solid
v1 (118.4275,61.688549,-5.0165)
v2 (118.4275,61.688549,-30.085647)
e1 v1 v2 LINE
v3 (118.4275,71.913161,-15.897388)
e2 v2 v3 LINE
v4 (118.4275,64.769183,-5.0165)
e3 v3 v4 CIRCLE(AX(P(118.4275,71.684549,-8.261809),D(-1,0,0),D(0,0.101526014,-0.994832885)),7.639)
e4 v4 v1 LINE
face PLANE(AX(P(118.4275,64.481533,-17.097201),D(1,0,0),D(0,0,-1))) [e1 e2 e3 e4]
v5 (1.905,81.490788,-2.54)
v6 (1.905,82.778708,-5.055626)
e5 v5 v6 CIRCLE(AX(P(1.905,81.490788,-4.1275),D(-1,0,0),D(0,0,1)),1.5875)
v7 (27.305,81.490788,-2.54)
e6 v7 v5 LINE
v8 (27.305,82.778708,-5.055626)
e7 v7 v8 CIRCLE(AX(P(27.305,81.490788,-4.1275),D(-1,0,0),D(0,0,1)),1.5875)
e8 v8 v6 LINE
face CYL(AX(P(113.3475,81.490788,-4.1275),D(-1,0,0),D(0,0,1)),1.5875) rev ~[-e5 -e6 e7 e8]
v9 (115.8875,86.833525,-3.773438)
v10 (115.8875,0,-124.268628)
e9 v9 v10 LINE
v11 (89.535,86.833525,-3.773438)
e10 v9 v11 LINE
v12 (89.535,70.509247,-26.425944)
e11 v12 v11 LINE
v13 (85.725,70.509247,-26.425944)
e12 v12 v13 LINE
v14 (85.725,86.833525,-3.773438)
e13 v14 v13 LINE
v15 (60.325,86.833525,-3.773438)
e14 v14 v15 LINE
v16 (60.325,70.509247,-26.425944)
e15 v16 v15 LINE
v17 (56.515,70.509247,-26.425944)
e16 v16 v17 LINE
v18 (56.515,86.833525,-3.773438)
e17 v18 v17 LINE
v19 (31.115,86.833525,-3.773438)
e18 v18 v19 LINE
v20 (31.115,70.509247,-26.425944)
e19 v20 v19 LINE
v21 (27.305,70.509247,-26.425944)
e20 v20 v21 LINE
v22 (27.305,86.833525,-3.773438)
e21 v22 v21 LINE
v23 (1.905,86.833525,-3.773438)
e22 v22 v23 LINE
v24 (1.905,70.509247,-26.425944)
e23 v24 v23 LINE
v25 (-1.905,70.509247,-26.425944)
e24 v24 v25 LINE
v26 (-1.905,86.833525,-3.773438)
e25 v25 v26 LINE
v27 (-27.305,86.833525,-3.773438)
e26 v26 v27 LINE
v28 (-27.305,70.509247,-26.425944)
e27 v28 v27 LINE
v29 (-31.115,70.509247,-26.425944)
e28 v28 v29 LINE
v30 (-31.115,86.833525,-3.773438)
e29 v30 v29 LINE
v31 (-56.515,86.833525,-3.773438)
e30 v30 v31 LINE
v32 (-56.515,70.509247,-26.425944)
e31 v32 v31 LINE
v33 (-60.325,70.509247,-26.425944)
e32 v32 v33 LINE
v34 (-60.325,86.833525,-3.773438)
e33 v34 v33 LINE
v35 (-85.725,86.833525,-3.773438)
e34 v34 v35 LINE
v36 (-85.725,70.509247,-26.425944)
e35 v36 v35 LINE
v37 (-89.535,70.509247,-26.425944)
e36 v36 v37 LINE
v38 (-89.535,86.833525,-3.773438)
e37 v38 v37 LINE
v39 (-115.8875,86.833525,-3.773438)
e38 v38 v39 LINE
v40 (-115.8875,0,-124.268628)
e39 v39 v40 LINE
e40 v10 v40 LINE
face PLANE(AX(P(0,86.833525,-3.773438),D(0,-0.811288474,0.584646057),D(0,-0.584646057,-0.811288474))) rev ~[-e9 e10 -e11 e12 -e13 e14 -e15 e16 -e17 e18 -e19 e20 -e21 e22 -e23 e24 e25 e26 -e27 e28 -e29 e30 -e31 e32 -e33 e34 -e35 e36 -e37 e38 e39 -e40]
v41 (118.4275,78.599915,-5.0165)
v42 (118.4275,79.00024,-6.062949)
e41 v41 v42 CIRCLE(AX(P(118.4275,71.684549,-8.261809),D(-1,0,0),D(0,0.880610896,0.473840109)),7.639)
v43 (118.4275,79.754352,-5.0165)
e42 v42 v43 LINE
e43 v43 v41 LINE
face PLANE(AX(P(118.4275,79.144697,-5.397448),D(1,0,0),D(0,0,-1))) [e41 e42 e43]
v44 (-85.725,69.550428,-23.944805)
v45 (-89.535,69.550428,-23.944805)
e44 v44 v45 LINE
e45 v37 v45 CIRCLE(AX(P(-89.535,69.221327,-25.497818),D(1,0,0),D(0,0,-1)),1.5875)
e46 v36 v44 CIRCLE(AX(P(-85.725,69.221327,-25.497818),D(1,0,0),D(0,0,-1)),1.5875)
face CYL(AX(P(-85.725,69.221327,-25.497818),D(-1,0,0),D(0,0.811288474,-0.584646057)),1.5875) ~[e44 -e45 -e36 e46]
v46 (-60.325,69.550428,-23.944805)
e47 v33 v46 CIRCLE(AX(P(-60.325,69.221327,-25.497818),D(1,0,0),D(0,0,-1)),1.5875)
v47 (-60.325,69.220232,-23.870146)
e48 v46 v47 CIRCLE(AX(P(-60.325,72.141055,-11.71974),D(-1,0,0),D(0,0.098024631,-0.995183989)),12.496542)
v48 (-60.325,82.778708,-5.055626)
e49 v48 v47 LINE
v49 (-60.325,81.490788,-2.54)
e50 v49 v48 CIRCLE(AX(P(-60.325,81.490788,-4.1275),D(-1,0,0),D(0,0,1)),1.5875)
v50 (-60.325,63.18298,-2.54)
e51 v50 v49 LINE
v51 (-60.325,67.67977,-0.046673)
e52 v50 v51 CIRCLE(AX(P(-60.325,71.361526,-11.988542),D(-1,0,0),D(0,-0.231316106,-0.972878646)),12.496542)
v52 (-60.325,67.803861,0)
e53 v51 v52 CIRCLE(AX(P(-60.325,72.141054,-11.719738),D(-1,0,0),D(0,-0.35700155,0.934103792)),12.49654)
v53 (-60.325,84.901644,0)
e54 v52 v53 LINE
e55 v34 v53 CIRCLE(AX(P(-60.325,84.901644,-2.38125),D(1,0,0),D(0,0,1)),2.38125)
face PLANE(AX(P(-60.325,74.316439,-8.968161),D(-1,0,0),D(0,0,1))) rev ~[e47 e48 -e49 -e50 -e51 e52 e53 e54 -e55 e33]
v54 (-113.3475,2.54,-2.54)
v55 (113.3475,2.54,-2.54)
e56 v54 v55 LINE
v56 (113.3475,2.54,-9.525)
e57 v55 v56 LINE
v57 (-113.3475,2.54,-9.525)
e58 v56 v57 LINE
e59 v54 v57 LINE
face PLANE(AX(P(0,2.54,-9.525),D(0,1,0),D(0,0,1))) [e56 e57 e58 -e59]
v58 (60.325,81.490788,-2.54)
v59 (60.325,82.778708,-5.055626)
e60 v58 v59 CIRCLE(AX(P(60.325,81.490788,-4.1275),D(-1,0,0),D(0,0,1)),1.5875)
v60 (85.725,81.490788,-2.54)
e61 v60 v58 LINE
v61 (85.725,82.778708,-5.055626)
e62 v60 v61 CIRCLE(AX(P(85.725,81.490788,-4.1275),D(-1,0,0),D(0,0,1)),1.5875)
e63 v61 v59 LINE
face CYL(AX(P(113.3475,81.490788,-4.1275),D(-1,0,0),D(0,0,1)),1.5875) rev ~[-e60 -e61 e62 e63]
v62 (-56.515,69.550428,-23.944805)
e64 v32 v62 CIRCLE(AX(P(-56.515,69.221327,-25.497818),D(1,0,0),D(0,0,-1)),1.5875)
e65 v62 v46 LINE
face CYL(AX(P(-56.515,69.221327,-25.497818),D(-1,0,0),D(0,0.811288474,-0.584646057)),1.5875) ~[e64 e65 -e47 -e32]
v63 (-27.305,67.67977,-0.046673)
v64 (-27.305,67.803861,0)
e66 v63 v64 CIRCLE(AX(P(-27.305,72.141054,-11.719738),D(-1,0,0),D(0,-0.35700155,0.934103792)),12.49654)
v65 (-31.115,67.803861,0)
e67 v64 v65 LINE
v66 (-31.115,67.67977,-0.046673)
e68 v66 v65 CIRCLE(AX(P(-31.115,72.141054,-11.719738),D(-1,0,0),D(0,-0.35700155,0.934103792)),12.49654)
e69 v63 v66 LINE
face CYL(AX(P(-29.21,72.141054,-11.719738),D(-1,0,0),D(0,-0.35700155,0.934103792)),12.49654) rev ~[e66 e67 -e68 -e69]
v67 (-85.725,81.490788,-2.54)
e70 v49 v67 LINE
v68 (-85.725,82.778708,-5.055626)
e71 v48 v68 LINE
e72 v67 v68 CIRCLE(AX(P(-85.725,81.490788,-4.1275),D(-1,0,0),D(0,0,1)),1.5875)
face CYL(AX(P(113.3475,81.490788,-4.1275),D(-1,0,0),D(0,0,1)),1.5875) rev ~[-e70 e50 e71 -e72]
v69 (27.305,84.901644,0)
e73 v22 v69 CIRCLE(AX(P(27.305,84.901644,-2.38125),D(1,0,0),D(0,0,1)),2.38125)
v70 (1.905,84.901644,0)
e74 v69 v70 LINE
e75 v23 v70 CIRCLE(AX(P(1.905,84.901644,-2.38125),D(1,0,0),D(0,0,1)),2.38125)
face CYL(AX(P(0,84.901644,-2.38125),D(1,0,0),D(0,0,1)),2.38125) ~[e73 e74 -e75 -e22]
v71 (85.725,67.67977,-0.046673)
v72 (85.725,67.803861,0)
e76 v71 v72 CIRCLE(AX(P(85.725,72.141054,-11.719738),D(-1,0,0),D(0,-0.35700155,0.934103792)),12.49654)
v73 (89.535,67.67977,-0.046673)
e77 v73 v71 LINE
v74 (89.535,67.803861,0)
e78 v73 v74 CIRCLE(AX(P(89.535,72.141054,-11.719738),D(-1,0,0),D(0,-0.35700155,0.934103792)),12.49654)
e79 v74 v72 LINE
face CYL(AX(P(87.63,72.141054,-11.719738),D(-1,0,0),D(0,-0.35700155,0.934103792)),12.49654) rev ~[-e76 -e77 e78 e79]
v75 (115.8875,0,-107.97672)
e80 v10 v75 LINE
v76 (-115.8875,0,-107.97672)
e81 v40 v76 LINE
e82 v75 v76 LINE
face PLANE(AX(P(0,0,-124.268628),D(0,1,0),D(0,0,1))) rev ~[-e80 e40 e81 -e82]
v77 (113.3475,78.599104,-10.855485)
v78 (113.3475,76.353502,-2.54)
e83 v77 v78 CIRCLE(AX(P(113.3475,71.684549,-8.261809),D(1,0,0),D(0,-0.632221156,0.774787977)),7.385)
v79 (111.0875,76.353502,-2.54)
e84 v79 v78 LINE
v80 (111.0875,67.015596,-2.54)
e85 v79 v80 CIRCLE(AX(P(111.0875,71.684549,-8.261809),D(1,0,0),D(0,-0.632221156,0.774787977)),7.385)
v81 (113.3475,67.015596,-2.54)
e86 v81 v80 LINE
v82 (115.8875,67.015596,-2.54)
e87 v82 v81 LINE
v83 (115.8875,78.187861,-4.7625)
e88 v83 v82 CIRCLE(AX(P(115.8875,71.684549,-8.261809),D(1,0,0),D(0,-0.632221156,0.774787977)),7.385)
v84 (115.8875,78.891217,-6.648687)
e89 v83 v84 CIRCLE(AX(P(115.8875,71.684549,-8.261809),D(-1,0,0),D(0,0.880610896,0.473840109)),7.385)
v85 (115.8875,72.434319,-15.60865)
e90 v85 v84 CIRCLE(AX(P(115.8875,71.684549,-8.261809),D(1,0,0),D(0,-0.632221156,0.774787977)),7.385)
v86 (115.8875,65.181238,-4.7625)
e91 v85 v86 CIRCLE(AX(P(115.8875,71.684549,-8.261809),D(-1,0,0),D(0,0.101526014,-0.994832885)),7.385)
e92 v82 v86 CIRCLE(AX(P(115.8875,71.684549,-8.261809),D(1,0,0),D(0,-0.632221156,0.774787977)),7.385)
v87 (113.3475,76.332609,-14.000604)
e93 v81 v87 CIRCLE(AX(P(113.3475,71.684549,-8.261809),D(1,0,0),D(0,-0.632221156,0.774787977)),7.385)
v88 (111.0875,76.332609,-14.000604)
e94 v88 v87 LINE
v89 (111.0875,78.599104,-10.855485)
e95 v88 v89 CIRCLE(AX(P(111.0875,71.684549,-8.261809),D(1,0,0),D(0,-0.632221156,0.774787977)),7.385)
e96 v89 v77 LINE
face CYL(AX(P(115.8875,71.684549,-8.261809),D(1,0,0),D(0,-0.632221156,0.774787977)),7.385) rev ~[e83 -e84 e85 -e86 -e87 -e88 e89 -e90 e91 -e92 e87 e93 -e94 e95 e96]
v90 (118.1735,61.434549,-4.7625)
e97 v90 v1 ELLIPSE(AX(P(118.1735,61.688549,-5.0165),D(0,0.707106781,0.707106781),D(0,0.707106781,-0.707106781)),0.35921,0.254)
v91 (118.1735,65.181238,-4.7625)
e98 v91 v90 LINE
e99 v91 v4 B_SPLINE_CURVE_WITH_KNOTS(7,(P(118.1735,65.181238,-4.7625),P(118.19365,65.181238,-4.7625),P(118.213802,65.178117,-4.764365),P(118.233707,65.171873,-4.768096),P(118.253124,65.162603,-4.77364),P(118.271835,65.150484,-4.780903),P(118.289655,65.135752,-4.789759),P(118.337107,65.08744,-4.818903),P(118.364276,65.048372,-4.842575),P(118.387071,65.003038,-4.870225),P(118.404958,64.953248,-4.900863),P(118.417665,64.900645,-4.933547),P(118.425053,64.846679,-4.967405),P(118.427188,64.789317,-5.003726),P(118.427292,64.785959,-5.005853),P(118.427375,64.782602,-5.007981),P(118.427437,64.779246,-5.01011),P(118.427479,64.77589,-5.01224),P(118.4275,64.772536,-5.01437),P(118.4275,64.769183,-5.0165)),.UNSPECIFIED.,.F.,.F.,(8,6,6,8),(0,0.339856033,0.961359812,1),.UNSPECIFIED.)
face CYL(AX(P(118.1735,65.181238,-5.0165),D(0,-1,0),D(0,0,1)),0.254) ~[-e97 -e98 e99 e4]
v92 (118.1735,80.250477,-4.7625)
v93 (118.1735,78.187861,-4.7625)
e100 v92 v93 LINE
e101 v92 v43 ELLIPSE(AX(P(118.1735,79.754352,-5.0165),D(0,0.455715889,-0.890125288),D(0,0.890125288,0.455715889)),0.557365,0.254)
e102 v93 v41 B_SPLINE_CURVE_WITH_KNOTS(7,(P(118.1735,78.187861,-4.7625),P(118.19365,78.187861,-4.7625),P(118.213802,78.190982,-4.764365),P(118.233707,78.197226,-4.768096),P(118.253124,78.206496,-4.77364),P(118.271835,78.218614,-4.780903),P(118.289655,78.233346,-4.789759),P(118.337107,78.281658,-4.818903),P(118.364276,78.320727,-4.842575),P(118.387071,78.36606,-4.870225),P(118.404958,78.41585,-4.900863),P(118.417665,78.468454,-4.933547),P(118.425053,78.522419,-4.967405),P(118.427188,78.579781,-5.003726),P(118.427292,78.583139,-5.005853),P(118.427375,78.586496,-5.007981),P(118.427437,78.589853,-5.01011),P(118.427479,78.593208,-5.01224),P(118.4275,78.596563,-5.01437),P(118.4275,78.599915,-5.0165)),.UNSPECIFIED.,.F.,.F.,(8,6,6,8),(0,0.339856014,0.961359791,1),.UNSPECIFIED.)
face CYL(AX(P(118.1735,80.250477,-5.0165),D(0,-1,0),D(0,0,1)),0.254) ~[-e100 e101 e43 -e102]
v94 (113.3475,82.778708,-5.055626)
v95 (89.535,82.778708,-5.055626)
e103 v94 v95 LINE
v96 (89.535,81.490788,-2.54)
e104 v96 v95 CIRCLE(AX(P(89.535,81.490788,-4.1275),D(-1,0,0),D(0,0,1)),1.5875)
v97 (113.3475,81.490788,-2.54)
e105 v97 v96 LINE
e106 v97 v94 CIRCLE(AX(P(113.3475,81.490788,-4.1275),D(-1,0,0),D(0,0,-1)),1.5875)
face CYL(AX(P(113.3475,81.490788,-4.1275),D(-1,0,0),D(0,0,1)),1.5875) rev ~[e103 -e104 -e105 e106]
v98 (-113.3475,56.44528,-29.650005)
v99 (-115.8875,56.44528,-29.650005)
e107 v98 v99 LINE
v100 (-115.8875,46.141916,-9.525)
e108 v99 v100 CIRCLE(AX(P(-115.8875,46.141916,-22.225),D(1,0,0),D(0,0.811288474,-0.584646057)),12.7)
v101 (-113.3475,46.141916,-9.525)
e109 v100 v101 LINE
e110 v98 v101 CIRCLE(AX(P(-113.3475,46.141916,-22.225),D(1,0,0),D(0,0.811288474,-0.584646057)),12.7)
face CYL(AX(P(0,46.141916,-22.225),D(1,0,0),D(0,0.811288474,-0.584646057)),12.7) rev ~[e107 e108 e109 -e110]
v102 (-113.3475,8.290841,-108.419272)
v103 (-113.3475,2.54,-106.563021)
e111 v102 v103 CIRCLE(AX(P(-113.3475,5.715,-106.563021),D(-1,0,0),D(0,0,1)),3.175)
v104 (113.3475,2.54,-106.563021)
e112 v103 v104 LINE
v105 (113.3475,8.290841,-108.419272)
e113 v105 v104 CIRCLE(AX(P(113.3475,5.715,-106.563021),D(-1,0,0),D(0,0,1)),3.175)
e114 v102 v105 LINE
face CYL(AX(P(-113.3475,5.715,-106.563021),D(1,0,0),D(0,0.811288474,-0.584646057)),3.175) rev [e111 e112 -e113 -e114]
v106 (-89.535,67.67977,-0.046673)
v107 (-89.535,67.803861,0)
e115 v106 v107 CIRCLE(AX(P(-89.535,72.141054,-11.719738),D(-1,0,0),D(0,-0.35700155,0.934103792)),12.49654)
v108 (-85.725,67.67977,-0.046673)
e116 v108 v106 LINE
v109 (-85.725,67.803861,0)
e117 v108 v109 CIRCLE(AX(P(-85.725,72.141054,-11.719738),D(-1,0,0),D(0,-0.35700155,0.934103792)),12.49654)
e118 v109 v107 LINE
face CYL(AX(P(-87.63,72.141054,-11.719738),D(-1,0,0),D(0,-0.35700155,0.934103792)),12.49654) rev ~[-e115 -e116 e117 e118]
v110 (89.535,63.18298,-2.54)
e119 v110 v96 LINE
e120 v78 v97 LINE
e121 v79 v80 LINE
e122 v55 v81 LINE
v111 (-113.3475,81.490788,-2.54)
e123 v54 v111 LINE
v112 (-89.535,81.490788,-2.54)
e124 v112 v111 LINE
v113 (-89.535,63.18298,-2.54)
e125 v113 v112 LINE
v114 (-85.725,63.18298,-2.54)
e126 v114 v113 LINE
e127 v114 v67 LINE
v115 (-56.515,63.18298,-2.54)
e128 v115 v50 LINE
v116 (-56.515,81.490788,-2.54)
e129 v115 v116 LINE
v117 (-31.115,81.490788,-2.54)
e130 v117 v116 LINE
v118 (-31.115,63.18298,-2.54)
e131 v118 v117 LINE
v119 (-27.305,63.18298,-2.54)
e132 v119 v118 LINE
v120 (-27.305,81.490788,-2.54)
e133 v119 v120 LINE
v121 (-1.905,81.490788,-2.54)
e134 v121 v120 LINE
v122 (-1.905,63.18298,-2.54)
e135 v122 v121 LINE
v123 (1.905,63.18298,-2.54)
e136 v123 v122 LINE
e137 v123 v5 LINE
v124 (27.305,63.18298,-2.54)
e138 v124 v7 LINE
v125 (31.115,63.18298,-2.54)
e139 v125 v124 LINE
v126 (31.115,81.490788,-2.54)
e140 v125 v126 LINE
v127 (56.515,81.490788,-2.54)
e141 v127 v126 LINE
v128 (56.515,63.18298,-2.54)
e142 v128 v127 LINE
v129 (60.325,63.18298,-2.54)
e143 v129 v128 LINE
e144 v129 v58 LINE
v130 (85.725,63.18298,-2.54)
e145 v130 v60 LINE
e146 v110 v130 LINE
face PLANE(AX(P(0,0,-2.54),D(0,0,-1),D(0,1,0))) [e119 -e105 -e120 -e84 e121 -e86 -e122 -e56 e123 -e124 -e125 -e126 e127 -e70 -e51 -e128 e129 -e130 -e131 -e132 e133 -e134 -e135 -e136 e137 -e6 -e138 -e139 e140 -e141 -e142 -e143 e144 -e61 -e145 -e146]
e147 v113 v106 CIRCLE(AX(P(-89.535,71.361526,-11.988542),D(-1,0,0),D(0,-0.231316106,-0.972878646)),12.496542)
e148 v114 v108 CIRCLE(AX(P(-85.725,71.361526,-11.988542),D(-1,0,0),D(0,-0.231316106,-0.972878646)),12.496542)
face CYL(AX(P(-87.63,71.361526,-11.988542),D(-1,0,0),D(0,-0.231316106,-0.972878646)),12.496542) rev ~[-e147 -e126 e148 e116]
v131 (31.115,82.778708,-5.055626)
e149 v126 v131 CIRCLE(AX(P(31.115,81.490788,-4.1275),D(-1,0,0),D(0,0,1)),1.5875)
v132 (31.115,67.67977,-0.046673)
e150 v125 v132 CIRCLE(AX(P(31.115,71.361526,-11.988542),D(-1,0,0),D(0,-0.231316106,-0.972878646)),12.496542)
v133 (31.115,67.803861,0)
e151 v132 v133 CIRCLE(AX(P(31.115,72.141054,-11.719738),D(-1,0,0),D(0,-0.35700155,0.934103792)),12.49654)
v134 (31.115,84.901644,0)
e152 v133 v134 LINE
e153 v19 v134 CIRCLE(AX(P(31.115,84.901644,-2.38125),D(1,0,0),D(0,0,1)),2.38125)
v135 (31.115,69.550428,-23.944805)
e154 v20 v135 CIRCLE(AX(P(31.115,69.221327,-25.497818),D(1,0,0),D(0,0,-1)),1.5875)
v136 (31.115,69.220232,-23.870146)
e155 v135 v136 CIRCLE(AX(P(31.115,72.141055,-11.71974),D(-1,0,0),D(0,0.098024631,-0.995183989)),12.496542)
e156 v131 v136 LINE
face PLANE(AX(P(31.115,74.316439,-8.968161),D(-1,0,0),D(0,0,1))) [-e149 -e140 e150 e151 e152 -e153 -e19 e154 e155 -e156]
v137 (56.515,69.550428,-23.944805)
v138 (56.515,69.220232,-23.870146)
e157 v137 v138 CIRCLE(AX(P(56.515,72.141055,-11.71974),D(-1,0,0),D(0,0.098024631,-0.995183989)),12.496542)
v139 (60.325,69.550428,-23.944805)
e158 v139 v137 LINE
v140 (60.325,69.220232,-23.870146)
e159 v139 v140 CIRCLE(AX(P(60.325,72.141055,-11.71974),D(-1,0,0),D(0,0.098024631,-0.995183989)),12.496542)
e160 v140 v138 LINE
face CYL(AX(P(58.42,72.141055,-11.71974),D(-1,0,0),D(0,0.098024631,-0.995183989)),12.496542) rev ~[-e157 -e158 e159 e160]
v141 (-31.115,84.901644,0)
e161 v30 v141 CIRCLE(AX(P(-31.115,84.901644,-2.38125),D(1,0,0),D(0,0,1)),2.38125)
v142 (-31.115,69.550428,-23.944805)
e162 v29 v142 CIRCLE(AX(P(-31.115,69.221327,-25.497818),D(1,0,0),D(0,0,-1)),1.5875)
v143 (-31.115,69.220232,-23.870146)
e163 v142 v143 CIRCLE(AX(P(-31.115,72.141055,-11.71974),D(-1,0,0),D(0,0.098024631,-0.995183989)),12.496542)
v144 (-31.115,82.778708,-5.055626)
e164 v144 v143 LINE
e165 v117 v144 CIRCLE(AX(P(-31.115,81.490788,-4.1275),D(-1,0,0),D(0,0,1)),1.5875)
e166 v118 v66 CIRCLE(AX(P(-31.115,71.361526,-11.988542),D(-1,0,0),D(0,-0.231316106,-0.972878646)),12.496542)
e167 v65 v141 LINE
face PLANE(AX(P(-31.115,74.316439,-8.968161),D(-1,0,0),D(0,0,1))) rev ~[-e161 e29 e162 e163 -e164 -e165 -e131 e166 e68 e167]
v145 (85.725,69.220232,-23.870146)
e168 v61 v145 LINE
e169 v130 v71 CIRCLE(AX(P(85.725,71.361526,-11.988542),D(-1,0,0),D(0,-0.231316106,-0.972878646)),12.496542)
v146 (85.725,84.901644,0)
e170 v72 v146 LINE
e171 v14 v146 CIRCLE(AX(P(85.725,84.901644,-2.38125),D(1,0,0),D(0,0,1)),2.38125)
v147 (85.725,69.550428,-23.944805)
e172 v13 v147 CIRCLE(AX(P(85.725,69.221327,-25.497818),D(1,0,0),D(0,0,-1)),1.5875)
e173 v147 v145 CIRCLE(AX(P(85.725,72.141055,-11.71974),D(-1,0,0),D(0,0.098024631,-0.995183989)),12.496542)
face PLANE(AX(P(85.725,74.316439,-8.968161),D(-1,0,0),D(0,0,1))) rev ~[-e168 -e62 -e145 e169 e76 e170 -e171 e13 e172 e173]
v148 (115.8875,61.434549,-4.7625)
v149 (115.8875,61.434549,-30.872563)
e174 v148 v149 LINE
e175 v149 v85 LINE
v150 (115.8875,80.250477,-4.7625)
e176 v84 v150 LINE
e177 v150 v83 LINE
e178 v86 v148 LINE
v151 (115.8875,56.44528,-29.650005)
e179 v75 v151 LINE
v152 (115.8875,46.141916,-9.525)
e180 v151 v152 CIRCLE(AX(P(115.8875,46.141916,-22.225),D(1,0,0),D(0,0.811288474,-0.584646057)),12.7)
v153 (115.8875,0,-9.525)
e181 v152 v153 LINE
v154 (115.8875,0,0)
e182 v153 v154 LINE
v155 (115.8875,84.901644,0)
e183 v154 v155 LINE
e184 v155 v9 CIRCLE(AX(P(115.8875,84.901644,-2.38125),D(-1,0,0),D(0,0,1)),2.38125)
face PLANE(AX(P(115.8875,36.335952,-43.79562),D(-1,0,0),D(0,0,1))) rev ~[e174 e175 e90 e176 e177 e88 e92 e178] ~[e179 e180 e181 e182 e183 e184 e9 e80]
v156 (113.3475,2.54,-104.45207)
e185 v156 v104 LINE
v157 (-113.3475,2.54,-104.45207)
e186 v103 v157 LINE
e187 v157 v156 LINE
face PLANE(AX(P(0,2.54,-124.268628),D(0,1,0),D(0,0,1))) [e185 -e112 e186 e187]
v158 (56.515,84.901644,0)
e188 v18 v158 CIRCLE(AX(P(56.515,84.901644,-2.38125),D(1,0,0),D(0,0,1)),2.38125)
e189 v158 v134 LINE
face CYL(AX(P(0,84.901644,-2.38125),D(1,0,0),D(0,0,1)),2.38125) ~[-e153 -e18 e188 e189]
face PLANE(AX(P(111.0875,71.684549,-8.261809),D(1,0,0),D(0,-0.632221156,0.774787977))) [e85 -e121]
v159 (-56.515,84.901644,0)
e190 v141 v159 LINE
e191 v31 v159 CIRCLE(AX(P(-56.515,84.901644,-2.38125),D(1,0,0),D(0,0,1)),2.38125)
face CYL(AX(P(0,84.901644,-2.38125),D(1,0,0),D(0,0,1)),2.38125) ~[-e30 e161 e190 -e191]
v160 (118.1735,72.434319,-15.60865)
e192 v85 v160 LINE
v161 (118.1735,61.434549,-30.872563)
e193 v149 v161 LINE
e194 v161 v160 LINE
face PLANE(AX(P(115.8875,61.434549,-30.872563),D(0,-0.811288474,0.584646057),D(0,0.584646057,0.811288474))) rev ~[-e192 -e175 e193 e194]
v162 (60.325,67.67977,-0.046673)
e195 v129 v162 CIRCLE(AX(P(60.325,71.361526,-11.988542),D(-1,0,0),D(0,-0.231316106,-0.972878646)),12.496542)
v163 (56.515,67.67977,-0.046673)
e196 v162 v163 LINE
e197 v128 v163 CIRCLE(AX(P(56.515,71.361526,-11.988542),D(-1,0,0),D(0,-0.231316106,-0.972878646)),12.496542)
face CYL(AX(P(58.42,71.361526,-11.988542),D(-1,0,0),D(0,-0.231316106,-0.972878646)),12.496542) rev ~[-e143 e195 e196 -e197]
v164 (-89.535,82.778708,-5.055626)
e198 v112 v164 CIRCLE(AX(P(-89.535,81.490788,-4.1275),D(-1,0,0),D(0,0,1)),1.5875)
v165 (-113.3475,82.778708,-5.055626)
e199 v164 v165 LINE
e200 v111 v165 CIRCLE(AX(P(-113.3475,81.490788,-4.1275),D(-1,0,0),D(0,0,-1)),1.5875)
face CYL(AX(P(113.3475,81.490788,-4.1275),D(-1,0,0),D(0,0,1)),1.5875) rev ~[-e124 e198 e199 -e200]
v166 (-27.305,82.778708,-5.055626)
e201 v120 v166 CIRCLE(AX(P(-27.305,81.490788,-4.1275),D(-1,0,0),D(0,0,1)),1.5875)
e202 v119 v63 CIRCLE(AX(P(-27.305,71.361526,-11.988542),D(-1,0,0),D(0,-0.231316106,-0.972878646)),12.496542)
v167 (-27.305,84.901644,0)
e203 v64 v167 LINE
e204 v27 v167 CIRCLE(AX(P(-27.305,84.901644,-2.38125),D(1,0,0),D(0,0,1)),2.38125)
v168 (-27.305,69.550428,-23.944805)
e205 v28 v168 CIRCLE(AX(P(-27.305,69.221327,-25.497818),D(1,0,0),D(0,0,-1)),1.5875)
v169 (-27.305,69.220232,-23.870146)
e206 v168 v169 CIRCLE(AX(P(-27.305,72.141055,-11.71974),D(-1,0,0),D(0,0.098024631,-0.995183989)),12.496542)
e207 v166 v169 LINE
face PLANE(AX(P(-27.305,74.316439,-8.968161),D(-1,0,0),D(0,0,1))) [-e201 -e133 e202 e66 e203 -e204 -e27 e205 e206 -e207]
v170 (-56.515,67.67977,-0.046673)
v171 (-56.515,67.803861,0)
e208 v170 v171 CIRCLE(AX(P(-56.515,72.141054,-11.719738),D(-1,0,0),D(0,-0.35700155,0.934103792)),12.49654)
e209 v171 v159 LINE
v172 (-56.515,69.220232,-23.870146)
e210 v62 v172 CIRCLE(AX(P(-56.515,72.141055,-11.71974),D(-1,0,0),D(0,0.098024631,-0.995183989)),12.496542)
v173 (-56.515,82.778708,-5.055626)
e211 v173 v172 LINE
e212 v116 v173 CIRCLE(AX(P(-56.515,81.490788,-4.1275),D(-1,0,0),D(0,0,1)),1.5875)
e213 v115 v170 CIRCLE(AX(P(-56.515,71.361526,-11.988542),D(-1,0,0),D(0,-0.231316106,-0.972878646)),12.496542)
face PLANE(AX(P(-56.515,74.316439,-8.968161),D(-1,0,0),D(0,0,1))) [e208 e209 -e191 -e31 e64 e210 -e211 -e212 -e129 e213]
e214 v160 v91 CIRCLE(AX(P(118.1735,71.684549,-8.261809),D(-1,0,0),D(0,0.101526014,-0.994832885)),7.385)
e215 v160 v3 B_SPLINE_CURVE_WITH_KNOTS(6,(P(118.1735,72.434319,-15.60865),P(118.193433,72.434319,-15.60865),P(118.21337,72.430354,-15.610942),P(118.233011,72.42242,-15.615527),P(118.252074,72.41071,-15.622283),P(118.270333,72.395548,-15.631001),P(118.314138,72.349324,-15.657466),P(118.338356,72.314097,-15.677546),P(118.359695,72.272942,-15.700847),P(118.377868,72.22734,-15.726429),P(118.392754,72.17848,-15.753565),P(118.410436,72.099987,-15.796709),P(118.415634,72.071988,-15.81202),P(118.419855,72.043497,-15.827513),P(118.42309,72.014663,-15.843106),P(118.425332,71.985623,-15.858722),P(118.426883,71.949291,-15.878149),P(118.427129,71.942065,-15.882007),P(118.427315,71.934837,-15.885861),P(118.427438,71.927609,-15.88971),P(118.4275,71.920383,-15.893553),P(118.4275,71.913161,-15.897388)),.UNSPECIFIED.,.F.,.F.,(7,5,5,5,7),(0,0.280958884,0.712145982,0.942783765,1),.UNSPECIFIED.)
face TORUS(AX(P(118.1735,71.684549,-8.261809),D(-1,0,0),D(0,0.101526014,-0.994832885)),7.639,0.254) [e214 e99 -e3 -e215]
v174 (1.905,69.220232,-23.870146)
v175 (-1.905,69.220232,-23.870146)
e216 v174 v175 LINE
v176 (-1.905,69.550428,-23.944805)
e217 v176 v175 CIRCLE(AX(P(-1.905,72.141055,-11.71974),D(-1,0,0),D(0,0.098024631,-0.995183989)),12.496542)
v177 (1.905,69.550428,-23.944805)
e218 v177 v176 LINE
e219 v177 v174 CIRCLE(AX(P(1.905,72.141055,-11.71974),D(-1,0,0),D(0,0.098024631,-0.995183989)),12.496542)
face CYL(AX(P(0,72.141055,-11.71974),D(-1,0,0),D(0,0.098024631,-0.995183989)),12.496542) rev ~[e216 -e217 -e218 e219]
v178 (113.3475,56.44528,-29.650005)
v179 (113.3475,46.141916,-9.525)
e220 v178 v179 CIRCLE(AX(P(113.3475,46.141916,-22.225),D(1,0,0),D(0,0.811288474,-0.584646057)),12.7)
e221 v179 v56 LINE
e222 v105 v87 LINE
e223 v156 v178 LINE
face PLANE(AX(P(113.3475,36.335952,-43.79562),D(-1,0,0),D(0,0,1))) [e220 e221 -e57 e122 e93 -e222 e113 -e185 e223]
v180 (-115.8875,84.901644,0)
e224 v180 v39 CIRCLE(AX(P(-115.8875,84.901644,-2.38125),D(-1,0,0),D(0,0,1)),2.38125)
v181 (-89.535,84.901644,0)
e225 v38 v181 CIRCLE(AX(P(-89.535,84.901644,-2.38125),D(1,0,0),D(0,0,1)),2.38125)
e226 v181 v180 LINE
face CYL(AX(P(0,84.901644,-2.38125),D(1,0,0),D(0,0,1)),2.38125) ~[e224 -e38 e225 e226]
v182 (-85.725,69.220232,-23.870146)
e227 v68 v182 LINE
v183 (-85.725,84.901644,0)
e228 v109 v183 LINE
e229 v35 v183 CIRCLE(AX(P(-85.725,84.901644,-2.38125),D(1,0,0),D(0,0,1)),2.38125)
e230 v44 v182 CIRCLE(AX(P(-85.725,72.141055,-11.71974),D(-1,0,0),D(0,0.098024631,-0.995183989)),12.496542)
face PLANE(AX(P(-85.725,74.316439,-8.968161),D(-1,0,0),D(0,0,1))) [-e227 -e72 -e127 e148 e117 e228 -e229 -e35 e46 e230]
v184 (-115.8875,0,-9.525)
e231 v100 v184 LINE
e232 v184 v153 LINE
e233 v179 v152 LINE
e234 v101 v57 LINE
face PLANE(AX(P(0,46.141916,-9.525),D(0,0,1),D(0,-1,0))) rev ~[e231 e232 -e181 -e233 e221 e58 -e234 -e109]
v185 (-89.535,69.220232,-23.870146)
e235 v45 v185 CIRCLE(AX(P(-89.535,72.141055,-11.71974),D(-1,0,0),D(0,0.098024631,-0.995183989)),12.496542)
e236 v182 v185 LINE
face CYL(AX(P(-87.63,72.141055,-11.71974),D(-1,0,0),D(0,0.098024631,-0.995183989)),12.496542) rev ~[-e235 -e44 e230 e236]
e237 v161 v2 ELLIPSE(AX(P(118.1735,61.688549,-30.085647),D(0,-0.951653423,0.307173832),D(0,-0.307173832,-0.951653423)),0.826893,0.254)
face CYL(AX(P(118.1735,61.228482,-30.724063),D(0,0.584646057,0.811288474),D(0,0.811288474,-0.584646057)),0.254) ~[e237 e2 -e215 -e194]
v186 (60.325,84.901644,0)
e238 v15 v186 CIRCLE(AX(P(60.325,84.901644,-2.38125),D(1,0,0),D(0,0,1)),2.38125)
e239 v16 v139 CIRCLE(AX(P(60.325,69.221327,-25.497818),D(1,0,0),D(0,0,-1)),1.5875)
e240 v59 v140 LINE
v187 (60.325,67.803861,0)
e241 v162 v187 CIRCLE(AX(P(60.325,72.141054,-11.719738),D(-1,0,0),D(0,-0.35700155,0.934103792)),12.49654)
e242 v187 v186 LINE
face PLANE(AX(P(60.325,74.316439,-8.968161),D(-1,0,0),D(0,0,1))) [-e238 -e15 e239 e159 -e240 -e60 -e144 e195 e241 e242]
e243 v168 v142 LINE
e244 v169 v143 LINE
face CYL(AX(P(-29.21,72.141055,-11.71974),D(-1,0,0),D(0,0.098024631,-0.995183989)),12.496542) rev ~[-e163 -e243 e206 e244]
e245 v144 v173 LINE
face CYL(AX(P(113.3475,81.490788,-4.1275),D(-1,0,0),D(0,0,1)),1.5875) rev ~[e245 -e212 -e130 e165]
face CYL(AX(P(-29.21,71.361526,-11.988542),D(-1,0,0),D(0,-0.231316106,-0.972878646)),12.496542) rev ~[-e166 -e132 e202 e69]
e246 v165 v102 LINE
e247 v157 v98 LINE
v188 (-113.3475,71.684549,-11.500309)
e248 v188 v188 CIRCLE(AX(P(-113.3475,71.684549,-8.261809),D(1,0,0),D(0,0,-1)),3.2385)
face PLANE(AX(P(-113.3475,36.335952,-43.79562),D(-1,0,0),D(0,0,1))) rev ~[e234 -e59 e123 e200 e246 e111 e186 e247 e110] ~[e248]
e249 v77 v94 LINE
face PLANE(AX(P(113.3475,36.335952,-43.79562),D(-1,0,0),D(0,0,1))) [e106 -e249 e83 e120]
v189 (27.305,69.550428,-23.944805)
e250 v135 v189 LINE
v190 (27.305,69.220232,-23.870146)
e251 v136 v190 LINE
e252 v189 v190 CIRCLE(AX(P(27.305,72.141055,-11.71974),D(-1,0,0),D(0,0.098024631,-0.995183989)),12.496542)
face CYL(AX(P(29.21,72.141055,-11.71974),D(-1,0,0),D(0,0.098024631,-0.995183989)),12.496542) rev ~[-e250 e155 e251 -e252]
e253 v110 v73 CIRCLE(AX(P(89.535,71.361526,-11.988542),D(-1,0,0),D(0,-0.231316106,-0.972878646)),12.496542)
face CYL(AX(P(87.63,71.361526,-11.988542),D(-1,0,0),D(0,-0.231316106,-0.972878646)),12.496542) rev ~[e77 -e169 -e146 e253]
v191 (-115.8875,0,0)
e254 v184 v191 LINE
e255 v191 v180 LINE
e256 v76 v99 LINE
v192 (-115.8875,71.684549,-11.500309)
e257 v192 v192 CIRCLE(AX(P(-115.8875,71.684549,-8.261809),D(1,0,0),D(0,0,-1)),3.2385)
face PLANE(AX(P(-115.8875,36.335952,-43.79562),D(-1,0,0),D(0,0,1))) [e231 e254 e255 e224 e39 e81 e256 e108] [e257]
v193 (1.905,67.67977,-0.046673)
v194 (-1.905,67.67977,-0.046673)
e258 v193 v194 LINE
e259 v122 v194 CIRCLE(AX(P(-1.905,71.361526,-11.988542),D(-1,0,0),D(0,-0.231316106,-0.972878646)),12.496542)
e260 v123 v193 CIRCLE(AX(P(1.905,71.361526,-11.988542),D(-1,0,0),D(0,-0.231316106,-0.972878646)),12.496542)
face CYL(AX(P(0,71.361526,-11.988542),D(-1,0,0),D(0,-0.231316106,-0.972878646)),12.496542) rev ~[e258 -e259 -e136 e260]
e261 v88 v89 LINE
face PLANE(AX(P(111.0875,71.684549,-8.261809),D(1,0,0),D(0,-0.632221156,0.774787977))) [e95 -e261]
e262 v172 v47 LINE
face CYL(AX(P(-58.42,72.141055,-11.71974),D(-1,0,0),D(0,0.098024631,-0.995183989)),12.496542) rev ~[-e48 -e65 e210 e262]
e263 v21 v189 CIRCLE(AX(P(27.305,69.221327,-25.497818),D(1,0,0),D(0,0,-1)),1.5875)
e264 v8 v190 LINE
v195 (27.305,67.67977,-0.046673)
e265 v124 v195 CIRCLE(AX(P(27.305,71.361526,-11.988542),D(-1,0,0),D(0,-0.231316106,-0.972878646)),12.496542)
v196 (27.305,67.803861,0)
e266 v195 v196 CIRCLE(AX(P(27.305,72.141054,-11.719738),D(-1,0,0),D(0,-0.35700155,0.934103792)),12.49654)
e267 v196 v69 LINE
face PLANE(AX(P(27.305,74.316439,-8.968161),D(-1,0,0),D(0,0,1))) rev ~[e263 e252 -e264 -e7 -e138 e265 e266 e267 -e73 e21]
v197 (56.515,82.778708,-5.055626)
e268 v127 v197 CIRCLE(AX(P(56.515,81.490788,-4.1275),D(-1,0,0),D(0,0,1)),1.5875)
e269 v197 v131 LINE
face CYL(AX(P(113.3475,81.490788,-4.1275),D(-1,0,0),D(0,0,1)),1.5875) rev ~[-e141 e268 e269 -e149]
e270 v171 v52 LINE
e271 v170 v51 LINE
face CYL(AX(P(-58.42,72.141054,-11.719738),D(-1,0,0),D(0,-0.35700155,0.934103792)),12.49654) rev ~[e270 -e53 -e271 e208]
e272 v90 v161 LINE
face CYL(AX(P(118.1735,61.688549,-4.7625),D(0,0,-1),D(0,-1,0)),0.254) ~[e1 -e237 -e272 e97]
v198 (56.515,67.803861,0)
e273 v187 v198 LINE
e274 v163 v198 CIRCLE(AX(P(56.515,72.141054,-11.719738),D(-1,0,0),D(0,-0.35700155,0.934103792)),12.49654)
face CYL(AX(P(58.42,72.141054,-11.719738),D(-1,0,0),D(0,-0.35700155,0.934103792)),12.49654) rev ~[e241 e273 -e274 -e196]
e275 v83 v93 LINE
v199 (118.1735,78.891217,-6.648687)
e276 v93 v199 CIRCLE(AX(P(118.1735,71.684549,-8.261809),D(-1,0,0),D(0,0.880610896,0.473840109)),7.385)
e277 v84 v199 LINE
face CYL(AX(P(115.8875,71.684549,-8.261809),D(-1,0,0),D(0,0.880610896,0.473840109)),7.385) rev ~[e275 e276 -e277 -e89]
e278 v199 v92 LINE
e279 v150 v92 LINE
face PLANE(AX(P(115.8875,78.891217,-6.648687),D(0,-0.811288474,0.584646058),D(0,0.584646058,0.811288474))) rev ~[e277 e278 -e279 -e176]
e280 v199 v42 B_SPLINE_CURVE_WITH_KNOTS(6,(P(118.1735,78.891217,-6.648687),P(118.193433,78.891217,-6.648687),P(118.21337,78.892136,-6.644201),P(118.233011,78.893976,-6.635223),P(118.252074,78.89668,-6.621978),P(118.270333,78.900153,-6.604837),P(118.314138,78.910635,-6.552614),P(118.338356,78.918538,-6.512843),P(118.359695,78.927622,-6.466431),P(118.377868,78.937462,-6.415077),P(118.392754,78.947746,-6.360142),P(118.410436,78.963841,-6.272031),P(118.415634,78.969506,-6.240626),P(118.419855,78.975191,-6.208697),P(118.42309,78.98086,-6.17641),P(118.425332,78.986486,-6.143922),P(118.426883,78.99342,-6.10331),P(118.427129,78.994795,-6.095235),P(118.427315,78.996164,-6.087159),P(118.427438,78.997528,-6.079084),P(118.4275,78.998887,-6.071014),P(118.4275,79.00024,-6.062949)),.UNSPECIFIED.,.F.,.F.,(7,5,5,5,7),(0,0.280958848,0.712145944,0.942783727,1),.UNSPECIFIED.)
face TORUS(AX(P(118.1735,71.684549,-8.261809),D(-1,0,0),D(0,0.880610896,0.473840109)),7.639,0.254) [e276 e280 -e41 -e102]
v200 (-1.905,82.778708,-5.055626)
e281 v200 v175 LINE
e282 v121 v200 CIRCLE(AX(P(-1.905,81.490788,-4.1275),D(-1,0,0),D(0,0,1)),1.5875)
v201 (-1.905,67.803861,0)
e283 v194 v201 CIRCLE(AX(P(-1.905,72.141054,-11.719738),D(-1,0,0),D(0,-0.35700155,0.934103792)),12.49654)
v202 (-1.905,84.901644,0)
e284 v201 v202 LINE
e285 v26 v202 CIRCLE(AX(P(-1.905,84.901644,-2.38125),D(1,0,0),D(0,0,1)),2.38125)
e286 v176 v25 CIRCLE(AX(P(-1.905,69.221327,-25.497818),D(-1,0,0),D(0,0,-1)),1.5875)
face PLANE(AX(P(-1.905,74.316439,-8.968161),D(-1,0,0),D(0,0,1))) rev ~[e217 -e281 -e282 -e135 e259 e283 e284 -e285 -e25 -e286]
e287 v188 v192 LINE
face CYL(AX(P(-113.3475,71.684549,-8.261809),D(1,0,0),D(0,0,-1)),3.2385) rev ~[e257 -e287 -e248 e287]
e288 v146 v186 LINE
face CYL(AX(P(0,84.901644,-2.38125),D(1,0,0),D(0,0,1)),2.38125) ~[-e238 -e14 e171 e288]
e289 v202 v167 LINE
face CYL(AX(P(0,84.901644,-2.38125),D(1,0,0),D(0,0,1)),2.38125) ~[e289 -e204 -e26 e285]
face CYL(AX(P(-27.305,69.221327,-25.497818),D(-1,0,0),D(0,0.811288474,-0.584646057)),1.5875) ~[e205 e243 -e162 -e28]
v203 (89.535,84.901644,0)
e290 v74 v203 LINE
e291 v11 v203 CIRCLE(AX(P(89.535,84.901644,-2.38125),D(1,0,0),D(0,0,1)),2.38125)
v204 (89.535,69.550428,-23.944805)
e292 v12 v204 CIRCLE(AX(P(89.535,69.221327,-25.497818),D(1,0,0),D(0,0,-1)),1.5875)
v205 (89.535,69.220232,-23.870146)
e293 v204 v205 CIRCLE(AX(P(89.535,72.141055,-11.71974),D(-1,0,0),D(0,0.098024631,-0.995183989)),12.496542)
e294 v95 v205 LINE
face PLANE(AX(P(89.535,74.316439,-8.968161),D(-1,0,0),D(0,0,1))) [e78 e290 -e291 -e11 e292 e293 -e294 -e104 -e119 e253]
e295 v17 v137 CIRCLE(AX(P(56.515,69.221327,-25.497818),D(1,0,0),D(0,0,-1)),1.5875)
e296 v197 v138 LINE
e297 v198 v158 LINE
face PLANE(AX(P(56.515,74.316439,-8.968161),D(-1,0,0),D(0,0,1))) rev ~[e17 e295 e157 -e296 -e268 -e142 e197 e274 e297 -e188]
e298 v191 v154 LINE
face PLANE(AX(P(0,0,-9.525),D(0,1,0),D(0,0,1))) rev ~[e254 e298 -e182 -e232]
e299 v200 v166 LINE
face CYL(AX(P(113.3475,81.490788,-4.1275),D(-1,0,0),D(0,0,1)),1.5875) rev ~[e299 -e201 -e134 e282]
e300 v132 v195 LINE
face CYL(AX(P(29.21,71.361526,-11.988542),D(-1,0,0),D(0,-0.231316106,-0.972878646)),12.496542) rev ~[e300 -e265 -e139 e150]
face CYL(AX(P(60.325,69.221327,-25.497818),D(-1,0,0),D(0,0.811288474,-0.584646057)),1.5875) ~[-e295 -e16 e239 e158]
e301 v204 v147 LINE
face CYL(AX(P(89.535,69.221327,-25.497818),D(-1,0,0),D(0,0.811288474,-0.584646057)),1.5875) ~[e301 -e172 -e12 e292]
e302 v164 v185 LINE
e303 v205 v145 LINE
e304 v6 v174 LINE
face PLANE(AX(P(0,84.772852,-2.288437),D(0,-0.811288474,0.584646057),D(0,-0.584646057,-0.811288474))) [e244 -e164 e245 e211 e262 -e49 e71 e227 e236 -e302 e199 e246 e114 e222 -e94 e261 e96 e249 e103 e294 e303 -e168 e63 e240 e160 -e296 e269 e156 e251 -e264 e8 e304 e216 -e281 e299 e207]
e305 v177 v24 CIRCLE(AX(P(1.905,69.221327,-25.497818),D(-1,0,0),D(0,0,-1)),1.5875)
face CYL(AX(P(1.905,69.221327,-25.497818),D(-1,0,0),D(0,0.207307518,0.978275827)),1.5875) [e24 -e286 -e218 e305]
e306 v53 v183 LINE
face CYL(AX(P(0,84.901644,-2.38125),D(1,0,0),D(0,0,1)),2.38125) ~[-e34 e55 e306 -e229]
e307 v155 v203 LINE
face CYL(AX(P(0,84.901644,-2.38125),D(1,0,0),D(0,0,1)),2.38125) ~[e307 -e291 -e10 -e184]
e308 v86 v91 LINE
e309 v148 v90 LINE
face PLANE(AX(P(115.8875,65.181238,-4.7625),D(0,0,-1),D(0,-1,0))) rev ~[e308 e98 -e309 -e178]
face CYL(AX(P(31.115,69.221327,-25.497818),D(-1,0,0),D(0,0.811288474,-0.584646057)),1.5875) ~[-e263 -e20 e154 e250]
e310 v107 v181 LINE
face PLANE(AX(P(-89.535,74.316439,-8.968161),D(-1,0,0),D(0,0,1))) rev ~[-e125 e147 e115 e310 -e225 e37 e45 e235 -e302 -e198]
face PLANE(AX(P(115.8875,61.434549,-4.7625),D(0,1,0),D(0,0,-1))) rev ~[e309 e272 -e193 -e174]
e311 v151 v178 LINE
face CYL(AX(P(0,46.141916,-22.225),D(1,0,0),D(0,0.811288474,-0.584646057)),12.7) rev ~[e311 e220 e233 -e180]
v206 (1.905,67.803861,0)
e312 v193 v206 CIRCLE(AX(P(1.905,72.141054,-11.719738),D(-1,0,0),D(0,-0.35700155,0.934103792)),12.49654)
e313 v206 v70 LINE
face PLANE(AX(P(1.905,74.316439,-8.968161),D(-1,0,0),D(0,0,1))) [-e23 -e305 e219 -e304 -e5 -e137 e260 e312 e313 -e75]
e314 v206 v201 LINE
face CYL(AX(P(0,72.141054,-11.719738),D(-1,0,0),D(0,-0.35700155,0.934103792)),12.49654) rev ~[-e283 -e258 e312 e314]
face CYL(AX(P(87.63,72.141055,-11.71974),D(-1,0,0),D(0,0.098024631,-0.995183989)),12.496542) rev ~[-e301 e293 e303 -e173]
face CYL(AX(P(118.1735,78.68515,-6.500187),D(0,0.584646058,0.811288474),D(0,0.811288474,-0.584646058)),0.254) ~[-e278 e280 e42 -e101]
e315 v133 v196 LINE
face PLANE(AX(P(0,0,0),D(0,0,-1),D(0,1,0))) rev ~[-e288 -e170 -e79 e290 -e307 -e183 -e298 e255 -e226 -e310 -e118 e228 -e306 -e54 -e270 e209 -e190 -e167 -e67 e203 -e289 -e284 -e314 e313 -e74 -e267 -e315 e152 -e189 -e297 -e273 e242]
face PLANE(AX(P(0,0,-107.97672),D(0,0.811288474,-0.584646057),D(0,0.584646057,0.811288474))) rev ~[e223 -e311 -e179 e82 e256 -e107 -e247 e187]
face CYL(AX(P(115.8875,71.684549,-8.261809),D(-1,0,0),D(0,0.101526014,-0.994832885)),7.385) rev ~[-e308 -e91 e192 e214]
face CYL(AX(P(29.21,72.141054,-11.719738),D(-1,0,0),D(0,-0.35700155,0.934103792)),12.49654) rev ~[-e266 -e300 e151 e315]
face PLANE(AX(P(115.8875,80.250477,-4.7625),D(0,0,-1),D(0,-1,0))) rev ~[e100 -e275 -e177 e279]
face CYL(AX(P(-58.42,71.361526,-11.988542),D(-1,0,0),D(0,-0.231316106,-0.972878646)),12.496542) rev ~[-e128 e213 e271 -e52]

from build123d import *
from build123d.topology import SkipClean

# Parameters (mm, degrees)
BOSS_EXTRUDE1_DEPTH    = 115.8875
SHELL1_T               = -2.54
FILLET7_R              = 1.5875
FILLET6_R              = 3.175
CUT_EXTRUDE1_DEPTH     = 1.905
FILLET8_R              = 1.5875
LPATTERN1_COUNT        = 4
LPATTERN1_PITCH        = 29.21
FILLET8_OF_LPATTERN1_R = 1.5875
LPATTERN2_COUNT        = 4
LPATTERN2_PITCH        = 29.21
FILLET8_OF_LPATTERN2_R = 1.5875
BOSS_EXTRUDE2_DEPTH    = 2.54
SKETCH5_R              = 7.385
CUT_EXTRUDE2_DEPTH     = 4.8
FILLET4_R              = 0.254
FILLET5_R              = 0.254
SKETCH6_R              = 3.2385
CUT_EXTRUDE3_DEPTH     = 278.093208583


with BuildPart() as part:
    # Sketch1 → Boss-Extrude1 (new, symmetric)
    with BuildSketch(Plane(origin=(0, 0, 0), x_dir=(0, 0, -1), z_dir=(1, 0, 0))):
        with BuildLine():
            Line((0, 0), (0, 84.901644013))
            ThreePointArc((0, 84.901644013), (1.29607654, 87.021254856), (3.773438424, 86.833524691))
            Line((3.773438424, 86.833524691), (124.268628317, 0))
            Line((124.268628317, 0), (107.976719942, 0))
            Line((107.976719942, 0), (29.650004929, 56.445280082))
            ThreePointArc((29.650004929, 56.445280082), (16.437408213, 57.446507626), (9.525, 46.141916466))
            Line((9.525, 46.141916466), (9.525, 0))
            Line((9.525, 0), (0, 0))
        make_face()
    extrude(amount=BOSS_EXTRUDE1_DEPTH, both=True)

    # Shell1
    shell1_openings = [part.faces().sort_by_distance(p)[0] for p in [
        (0, 28.222640041, -68.813362436),
        (0, 57.446507626, -16.437408213),
        (0, 23.070958233, -9.525),
    ]]
    offset(amount=SHELL1_T, openings=shell1_openings, kind=Kind.INTERSECTION)

    # Fillet7
    fillet7_edges = [part.edges().sort_by_distance(p)[0] for p in [
        (0, 84.591566193, -2.54),
    ]]
    fillet(fillet7_edges, radius=FILLET7_R)

    # Fillet6
    fillet6_edges = [part.edges().sort_by_distance(p)[0] for p in [
        (0, 2.54, -116.399469423),
    ]]
    fillet(fillet6_edges, radius=FILLET6_R)

    # Sketch3 → Cut-Extrude1 (cut, symmetric)
    with BuildSketch(Plane(origin=(0, -2.413, -15.875), x_dir=(0, 0, 1), z_dir=(-1, 0, 0))):
        with BuildLine():
            Line((-7.926699104, 71.361902399), (-8.271161087, 70.883874176))
            ThreePointArc((-8.271161087, 70.883874176), (3.476459724, 61.284711128), (15.828327064, 70.09276989))
            ThreePointArc((15.828327064, 70.09276989), (15.901291869, 70.288577921), (15.970972384, 70.485578616))
            Line((15.970972384, 70.485578616), (17.531294258, 75.017082374))
            Line((17.531294258, 75.017082374), (17.531294258, 94.003784079))
            Line((17.531294258, 94.003784079), (-8.281098949, 75.779023692))
            ThreePointArc((-8.281098949, 75.779023692), (-8.301253168, 73.554628688), (-7.926699104, 71.361902399))
        make_face()
    cut_extrude1 = extrude(amount=CUT_EXTRUDE1_DEPTH, both=True, mode=Mode.SUBTRACT)

    # Fillet8
    fillet8_edges = [part.edges().sort_by_distance(p)[0] for p in [
        (0, 72.101660209, -24.21622034),
    ]]
    fillet(fillet8_edges, radius=FILLET8_R)

    # LPattern1: Cut-Extrude1 ×4
    with Locations(*[(i * LPATTERN1_PITCH, 0, 0) for i in range(1, LPATTERN1_COUNT)]):
        add(cut_extrude1, mode=Mode.SUBTRACT)

    # Fillet8 of LPattern1
    fillet8_of_lpattern1_edges = [part.edges().sort_by_distance(p)[0] for p in [
        (29.21, 72.101660209, -24.21622034),
        (58.42, 72.101660209, -24.21622034),
        (87.63, 72.101660209, -24.21622034),
    ]]
    fillet(fillet8_of_lpattern1_edges, radius=FILLET8_OF_LPATTERN1_R)

    # LPattern2: Cut-Extrude1 ×4
    with Locations(*[(-i * LPATTERN2_PITCH, 0, 0) for i in range(1, LPATTERN2_COUNT)]):
        add(cut_extrude1, mode=Mode.SUBTRACT)

    # Fillet8 of LPattern2
    fillet8_of_lpattern2_edges = [part.edges().sort_by_distance(p)[0] for p in [
        (-29.21, 72.101660209, -24.21622034),
        (-58.42, 72.101660209, -24.21622034),
        (-87.63, 72.101660209, -24.21622034),
    ]]
    fillet(fillet8_of_lpattern2_edges, radius=FILLET8_OF_LPATTERN2_R)

    # Sketch4 → Boss-Extrude2 (add)
    with BuildSketch(Plane(origin=(115.8875, 0, 0), x_dir=(0, 0, -1), z_dir=(1, 0, 0))):
        with BuildLine():
            Line((4.7625, 80.250476708), (4.7625, 78.187860591))
            ThreePointArc((4.7625, 78.187860591), (5.681515336, 78.604108973), (6.648686934, 78.891216974))
            Line((6.648686934, 78.891216974), (4.7625, 80.250476708))
        make_face()
        with BuildLine():
            Line((30.872562622, 61.434549123), (15.608650064, 72.434318733))
            ThreePointArc((15.608650064, 72.434318733), (12.367009719, 65.545693058), (4.7625, 65.181237654))
            Line((4.7625, 65.181237654), (4.7625, 61.434549123))
            Line((4.7625, 61.434549123), (30.872562622, 61.434549123))
        make_face()
    extrude(amount=BOSS_EXTRUDE2_DEPTH)

    # Sketch5 → Cut-Extrude2 (cut)
    with SkipClean():  # the faces are left unmerged after this step: merging them gives an invalid solid
        with BuildSketch(Plane(origin=(115.8875, 0, 0), x_dir=(0, 0, -1), z_dir=(1, 0, 0))):
            with Locations(Location((8.26180921, 71.684549123, 0), (0, 0, 219.214186209))):
                Circle(SKETCH5_R)
        extrude(amount=-CUT_EXTRUDE2_DEPTH, mode=Mode.SUBTRACT)

    # Fillet4
    fillet4_edges = [part.edges().sort_by_distance(p)[0] for p in [
        (118.4275, 79.570846841, -5.705593467),
        (118.4275, 79.219168649, -4.7625),
        (118.4275, 78.604108973, -5.681515336),
    ]]
    fillet(fillet4_edges, radius=FILLET4_R)

    # Fillet5
    fillet5_edges = [part.edges().sort_by_distance(p)[0] for p in [
        (118.4275, 61.434549123, -17.817531311),
        (118.4275, 66.934433928, -23.240606343),
        (118.4275, 65.545693058, -12.367009719),
        (118.4275, 63.307893389, -4.7625),
    ]]
    fillet(fillet5_edges, radius=FILLET5_R)

    # Sketch6 → Cut-Extrude3 (cut, through all)
    with BuildSketch(Plane(origin=(-113.3475, 0, 0), x_dir=(0, 0, -1), z_dir=(1, 0, 0))):
        with Locations((8.26180921, 71.684549123)):
            Circle(SKETCH6_R)
    extrude(amount=-CUT_EXTRUDE3_DEPTH, mode=Mode.SUBTRACT)


solid = part.part
